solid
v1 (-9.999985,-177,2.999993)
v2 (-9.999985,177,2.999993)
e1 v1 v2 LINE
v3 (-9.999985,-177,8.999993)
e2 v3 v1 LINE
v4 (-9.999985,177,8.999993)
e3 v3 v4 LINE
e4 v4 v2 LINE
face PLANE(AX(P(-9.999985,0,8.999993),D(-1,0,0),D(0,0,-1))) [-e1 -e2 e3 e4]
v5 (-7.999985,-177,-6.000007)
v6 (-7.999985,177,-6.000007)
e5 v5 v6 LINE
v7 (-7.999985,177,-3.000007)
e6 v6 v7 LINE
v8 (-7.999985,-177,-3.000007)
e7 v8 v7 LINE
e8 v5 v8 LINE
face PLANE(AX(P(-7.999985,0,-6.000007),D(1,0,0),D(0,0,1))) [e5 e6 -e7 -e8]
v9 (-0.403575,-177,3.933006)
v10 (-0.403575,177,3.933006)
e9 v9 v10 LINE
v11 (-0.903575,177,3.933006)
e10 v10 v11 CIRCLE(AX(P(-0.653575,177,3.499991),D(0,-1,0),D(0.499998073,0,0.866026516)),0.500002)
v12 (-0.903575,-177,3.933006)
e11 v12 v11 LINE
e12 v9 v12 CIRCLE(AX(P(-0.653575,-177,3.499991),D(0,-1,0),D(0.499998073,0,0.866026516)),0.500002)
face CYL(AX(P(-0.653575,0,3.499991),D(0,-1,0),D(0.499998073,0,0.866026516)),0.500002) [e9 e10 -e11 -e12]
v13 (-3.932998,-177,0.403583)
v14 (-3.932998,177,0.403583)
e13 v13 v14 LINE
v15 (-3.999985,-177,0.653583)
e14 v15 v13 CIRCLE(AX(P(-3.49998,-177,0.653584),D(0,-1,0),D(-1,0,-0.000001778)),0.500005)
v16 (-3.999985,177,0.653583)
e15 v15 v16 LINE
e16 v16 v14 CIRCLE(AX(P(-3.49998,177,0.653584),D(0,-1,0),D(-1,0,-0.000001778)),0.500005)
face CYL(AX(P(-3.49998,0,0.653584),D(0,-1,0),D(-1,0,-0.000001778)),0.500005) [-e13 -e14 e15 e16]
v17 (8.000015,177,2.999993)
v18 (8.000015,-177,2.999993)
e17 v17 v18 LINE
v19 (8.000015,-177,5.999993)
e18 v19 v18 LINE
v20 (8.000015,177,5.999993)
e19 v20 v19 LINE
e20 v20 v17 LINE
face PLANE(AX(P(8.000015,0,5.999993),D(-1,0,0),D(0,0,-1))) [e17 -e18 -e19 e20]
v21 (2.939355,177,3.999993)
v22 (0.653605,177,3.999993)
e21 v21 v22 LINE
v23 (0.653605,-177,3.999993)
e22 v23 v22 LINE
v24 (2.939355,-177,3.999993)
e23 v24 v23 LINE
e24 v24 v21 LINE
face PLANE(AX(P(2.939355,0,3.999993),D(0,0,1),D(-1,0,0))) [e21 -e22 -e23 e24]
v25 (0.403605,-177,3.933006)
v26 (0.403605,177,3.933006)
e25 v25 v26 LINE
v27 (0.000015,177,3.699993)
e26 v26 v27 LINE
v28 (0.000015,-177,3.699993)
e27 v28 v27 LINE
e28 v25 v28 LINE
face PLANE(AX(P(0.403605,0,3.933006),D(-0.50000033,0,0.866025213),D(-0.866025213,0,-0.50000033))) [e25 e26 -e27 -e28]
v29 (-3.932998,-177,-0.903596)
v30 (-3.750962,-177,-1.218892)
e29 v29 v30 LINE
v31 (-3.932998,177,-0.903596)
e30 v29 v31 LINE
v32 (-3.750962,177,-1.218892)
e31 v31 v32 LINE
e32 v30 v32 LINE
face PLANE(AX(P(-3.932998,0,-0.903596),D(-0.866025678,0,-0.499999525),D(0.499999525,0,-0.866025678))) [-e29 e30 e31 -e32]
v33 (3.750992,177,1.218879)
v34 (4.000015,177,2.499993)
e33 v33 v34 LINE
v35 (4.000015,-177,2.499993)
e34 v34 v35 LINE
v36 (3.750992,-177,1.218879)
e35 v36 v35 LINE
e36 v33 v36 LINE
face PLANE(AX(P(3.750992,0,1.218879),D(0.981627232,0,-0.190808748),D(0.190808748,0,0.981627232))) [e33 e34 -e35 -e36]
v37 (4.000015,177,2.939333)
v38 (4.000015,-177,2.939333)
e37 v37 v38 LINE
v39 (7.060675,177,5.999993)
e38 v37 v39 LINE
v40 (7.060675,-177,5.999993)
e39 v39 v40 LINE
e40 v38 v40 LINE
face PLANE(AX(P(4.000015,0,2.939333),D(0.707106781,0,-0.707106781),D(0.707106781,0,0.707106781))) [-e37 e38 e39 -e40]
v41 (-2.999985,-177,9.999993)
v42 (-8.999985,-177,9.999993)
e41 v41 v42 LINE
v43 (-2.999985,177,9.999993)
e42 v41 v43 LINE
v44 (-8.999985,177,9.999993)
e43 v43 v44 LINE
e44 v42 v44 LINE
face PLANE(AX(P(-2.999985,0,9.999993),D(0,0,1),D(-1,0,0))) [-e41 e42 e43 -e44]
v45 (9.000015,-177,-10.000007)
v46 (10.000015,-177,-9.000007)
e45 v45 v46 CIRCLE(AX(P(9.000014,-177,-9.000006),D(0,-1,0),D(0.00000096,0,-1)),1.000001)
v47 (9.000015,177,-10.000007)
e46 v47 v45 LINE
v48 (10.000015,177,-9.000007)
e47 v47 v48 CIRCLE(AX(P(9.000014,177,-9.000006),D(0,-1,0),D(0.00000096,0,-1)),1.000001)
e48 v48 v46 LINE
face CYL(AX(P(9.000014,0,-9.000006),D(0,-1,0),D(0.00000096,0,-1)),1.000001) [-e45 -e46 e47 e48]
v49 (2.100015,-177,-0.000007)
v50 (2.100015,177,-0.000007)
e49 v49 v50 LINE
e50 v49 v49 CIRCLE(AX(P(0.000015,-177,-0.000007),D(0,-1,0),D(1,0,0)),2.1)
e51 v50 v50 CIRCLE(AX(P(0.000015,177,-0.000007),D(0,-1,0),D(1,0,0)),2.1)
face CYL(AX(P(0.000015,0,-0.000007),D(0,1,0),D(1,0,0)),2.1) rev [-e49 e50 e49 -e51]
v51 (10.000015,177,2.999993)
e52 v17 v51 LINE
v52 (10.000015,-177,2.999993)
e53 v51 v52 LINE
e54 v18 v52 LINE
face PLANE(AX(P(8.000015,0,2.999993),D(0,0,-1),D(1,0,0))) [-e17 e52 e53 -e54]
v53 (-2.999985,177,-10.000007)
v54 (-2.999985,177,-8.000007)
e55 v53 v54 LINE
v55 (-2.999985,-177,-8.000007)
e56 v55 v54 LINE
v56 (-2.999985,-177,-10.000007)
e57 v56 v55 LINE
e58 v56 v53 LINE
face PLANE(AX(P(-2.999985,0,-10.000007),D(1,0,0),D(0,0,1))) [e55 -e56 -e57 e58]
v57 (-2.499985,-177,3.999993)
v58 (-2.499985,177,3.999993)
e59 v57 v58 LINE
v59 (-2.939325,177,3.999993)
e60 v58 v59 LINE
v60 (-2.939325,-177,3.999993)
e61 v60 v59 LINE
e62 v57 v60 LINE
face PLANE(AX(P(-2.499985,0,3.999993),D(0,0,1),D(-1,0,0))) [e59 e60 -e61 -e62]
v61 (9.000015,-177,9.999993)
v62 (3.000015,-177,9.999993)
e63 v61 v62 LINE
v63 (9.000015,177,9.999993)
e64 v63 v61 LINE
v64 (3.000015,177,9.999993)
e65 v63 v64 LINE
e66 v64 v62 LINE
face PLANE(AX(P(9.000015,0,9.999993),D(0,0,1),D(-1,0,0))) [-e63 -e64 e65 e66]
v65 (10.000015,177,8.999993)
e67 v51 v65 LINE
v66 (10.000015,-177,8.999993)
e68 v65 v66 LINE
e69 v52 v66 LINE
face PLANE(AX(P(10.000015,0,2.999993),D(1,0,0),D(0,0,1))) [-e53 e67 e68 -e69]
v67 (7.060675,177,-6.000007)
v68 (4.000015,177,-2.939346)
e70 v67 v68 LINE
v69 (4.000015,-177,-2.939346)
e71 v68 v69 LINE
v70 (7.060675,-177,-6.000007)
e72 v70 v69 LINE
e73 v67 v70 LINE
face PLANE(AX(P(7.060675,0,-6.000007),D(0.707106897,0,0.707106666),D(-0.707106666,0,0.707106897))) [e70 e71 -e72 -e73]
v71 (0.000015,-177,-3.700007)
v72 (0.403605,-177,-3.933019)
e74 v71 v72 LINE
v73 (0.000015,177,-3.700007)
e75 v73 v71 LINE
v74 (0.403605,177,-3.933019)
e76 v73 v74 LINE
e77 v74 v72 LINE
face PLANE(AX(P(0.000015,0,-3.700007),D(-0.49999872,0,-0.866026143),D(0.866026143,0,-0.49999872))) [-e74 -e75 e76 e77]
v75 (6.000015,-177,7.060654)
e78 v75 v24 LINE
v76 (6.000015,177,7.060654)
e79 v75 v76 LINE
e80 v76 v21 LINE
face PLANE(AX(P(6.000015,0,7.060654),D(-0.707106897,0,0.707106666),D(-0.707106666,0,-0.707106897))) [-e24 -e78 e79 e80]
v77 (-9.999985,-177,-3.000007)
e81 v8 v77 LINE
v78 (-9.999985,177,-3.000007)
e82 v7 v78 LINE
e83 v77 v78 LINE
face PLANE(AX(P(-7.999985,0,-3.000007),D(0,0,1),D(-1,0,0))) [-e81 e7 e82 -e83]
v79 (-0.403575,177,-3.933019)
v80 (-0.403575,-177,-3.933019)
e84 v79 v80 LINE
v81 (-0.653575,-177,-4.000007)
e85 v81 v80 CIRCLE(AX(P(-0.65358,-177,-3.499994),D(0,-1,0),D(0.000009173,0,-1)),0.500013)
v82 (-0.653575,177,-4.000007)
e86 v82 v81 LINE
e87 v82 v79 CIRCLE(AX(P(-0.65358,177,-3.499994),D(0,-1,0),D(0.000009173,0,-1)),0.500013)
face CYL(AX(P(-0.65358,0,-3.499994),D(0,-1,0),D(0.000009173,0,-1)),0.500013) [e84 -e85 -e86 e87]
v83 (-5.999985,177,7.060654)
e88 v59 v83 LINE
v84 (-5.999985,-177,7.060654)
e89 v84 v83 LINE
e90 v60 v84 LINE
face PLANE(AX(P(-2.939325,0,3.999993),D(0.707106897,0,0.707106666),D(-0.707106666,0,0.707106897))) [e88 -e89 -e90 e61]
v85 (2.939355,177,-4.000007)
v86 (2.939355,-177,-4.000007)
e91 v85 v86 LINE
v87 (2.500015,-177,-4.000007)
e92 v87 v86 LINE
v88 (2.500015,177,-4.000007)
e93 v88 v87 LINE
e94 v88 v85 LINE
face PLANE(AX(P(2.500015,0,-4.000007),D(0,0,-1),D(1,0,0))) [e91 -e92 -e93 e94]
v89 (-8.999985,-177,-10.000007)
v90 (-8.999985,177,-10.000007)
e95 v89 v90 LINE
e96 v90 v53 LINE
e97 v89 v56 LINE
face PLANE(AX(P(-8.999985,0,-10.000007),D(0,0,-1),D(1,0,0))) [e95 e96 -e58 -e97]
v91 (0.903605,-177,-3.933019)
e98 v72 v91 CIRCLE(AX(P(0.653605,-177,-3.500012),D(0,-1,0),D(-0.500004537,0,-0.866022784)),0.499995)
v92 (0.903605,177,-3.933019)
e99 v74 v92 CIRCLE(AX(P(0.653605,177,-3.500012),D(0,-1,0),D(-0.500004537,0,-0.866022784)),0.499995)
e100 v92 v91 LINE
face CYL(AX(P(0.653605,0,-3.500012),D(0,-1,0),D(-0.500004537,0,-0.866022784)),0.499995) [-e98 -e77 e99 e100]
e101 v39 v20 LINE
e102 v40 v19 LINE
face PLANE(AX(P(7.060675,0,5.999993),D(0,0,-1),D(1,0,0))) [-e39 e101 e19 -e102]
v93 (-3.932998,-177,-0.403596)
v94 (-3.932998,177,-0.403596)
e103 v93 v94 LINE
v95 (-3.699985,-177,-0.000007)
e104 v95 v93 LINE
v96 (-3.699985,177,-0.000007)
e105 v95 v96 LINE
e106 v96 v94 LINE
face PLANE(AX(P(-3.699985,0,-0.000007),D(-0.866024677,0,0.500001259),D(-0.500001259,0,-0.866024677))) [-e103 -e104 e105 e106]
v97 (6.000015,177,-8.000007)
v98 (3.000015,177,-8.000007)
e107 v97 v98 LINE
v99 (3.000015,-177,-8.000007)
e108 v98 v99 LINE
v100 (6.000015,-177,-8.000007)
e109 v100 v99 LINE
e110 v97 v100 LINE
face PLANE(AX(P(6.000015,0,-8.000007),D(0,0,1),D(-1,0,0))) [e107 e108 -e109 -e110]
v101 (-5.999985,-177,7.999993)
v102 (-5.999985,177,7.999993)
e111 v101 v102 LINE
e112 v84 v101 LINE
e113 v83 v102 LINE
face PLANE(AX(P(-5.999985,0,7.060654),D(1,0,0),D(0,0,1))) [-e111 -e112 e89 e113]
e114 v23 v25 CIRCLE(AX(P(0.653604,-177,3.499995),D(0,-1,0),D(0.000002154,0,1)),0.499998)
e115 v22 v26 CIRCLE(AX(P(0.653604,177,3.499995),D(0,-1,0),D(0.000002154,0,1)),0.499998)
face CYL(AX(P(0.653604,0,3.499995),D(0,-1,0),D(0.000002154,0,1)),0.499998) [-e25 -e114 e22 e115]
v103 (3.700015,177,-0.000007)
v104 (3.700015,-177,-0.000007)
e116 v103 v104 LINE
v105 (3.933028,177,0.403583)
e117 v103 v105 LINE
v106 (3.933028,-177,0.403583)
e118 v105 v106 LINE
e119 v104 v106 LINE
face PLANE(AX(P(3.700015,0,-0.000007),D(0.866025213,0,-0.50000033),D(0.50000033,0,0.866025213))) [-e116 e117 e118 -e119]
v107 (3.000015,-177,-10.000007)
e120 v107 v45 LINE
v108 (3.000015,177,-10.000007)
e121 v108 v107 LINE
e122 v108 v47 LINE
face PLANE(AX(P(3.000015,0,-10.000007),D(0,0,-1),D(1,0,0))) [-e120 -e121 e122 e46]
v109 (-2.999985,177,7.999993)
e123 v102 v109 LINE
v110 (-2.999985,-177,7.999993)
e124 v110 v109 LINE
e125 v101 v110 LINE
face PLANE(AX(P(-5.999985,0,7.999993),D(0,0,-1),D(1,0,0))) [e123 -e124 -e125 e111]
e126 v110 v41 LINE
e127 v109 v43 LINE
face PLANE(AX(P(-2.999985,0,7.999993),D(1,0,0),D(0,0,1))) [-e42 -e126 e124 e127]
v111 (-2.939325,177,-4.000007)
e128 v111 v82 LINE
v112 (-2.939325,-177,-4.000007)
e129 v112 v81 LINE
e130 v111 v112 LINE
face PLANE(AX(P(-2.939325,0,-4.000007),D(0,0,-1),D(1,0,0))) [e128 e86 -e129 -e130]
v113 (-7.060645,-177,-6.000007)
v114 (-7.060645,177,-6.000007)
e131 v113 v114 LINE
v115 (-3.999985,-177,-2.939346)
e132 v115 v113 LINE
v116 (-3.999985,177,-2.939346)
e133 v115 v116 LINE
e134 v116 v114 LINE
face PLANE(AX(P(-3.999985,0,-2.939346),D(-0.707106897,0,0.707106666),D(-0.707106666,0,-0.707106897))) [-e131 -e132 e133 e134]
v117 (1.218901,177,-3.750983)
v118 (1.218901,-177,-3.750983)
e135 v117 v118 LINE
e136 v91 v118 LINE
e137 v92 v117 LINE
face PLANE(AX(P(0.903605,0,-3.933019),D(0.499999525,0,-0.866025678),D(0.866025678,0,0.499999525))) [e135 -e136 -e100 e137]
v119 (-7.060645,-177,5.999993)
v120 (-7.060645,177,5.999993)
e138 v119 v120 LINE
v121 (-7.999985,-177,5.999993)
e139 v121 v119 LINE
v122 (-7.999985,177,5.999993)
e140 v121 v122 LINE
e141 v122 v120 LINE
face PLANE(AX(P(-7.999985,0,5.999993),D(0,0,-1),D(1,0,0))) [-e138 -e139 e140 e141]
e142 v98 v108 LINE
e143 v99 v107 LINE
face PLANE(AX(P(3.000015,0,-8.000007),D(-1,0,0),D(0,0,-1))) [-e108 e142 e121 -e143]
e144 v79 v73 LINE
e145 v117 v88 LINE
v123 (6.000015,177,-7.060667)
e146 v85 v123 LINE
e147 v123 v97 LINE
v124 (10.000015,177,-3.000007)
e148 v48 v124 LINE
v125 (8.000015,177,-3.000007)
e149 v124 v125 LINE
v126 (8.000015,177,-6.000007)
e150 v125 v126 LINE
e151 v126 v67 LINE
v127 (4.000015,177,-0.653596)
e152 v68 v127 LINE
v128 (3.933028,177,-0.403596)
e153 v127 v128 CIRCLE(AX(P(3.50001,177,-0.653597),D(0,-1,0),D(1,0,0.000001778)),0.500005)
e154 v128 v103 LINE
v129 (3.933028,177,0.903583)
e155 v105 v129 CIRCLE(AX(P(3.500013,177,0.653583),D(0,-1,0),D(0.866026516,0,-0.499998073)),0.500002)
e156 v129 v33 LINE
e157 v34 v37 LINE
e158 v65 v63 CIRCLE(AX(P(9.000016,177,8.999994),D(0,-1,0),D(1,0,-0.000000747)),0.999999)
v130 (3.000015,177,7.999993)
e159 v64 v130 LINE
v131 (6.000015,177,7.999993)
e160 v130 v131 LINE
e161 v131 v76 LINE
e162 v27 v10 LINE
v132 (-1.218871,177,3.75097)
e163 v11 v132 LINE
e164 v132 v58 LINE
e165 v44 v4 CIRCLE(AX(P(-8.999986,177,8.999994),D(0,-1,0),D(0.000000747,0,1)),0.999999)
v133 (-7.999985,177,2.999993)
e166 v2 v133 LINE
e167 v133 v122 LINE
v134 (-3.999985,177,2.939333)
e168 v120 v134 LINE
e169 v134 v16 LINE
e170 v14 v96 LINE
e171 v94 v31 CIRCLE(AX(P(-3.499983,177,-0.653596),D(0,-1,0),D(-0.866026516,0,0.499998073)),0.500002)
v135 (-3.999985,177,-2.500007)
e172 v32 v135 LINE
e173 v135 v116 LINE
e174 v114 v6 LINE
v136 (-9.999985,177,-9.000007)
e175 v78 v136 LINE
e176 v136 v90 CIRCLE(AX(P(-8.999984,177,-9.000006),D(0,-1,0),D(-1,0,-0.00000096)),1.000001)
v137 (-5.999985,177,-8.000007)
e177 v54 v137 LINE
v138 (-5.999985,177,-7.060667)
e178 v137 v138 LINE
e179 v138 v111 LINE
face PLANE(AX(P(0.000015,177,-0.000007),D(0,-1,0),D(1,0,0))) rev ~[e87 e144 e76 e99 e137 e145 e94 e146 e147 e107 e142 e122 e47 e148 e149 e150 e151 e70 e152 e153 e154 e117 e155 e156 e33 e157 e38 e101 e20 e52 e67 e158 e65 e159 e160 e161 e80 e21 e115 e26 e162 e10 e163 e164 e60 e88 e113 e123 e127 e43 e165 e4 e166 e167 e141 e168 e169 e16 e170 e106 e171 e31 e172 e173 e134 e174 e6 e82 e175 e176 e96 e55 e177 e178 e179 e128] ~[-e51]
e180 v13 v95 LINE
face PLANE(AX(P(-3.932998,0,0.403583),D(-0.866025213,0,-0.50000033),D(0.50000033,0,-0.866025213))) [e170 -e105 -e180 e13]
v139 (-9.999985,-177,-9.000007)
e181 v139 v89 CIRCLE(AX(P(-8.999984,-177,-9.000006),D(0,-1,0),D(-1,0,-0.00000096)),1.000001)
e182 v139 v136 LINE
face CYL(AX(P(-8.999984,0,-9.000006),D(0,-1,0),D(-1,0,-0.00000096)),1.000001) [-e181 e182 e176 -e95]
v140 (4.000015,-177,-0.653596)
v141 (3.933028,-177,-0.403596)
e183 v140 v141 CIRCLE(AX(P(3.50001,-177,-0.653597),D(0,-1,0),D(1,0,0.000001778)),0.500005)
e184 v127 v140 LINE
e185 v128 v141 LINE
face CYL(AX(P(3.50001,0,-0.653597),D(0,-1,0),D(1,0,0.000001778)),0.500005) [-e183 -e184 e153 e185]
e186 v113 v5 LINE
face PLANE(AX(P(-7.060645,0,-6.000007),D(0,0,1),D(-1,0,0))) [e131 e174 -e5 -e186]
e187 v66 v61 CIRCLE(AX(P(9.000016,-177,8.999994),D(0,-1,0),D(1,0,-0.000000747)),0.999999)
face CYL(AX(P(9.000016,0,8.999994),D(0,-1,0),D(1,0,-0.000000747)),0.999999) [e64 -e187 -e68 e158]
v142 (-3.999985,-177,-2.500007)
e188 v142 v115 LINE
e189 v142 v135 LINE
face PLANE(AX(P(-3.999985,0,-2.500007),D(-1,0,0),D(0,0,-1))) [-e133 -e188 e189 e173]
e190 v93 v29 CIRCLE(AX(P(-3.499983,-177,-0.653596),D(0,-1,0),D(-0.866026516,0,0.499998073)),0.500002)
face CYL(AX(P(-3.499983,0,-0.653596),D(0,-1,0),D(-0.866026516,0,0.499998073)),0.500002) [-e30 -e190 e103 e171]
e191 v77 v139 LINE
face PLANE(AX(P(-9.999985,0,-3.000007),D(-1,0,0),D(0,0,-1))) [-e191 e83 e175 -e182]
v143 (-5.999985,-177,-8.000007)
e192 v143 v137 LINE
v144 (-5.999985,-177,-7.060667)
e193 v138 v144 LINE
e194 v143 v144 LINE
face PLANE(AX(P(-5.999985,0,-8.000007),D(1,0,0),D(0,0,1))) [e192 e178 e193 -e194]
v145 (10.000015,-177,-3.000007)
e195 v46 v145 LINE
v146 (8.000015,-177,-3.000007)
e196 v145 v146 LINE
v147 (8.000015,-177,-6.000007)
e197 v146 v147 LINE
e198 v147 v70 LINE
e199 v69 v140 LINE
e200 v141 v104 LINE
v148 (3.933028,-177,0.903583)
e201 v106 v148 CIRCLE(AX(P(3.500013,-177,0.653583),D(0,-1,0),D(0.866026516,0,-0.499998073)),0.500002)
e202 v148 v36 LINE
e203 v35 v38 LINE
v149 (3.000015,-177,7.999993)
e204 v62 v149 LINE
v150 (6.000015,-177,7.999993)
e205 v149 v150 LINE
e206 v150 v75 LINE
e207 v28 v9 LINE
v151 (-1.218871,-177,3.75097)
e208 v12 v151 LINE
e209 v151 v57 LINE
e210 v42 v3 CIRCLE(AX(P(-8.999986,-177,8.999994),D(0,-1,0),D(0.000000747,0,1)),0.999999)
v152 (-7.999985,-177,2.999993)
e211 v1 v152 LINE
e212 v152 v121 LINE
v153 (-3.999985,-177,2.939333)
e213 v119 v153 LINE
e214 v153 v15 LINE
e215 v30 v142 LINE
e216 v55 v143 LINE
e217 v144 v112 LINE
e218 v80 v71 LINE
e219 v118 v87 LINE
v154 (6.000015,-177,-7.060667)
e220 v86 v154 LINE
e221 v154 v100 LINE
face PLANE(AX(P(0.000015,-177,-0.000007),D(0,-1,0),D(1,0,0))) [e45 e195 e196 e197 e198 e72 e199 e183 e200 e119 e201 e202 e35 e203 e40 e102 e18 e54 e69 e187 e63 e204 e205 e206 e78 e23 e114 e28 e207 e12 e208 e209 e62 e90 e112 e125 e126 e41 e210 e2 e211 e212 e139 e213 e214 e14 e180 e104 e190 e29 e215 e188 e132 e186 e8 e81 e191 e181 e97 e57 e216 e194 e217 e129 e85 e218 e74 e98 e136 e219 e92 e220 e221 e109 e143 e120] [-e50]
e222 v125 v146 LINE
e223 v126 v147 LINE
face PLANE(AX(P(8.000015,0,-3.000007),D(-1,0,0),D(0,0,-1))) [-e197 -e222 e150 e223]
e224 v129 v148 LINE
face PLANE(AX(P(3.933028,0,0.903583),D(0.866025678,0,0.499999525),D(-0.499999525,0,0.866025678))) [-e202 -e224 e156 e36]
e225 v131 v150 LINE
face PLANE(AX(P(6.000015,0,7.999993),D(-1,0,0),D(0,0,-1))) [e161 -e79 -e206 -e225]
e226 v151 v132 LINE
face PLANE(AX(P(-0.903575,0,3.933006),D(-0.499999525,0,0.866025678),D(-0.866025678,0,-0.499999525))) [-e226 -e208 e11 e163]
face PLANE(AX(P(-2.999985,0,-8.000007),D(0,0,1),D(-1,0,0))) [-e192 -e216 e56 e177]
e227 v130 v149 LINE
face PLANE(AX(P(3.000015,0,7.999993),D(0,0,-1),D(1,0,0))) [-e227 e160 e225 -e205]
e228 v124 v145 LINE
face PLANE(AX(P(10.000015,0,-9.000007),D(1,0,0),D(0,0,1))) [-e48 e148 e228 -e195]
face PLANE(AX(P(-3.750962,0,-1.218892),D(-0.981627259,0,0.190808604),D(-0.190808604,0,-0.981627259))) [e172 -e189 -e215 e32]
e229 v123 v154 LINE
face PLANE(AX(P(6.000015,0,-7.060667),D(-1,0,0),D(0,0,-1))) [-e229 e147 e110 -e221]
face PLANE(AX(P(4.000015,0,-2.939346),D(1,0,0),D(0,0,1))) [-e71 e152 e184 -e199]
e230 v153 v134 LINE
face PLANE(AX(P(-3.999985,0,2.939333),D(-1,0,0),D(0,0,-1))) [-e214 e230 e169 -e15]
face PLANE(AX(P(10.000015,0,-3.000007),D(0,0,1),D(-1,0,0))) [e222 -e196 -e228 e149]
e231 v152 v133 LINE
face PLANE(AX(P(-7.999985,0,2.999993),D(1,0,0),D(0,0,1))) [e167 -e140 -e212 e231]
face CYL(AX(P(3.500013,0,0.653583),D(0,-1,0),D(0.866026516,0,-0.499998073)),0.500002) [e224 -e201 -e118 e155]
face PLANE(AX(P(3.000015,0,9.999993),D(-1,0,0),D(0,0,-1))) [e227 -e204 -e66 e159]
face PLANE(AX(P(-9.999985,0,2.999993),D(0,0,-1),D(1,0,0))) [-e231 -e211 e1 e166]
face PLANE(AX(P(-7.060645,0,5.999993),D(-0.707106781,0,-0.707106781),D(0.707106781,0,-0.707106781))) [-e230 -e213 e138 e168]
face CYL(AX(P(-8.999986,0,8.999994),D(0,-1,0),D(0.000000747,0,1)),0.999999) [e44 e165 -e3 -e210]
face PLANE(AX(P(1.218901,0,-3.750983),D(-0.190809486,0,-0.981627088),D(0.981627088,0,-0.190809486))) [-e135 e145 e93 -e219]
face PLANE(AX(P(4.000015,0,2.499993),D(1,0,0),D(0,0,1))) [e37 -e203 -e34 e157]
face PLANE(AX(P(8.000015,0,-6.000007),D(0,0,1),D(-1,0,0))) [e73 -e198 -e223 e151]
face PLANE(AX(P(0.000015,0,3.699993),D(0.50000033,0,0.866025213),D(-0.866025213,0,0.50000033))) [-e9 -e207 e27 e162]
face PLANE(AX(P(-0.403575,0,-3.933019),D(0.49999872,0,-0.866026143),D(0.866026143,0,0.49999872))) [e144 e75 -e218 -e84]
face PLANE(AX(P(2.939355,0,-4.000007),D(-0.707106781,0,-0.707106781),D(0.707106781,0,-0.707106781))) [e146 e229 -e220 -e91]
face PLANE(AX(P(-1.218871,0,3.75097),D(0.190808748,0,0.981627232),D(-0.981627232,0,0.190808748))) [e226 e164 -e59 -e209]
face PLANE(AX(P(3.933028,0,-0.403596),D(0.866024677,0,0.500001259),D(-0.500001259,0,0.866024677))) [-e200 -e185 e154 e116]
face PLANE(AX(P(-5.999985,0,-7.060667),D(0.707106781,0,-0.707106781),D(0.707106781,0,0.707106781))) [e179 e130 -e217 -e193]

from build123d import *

# Parameters (mm, degrees)
F0_R     = 2.1
F1_DEPTH = 177


with BuildPart() as f1:
    # F0 (on Front) → F1 (new body, symmetric)
    with BuildSketch(Plane.XZ):
        with BuildLine():
            Line((-5.999985, -8.000007), (-5.999985, -7.060667))
            Line((-5.999985, -7.060667), (-2.939325, -4.000007))
            Line((-2.939325, -4.000007), (-0.653575, -4.000007))
            ThreePointArc((-0.653575, -4.000007), (-0.524165, -3.982969), (-0.403575, -3.933019))
            Line((-0.403575, -3.933019), (1.5e-05, -3.700007))
            Line((1.5e-05, -3.700007), (0.403605, -3.933019))
            ThreePointArc((0.403605, -3.933019), (0.653605, -4.000007), (0.903605, -3.933019))
            Line((0.903605, -3.933019), (1.218901, -3.750983))
            Line((1.218901, -3.750983), (2.500015, -4.000007))
            Line((2.500015, -4.000007), (2.939355, -4.000007))
            Line((2.939355, -4.000007), (6.000015, -7.060667))
            Line((6.000015, -7.060667), (6.000015, -8.000007))
            Line((6.000015, -8.000007), (3.000015, -8.000007))
            Line((3.000015, -8.000007), (3.000015, -10.000007))
            Line((3.000015, -10.000007), (9.000015, -10.000007))
            ThreePointArc((9.000015, -10.000007), (9.707122, -9.707113), (10.000015, -9.000007))
            Line((10.000015, -9.000007), (10.000015, -3.000007))
            Line((10.000015, -3.000007), (8.000015, -3.000007))
            Line((8.000015, -3.000007), (8.000015, -6.000007))
            Line((8.000015, -6.000007), (7.060675, -6.000007))
            Line((7.060675, -6.000007), (4.000015, -2.939346))
            Line((4.000015, -2.939346), (4.000015, -0.653596))
            ThreePointArc((4.000015, -0.653596), (3.982978, -0.524187), (3.933028, -0.403596))
            Line((3.933028, -0.403596), (3.700015, -7e-06))
            Line((3.700015, -7e-06), (3.933028, 0.403583))
            ThreePointArc((3.933028, 0.403583), (4.000015, 0.653583), (3.933028, 0.903583))
            Line((3.933028, 0.903583), (3.750992, 1.218879))
            Line((3.750992, 1.218879), (4.000015, 2.499993))
            Line((4.000015, 2.499993), (4.000015, 2.939333))
            Line((4.000015, 2.939333), (7.060675, 5.999993))
            Line((7.060675, 5.999993), (8.000015, 5.999993))
            Line((8.000015, 5.999993), (8.000015, 2.999993))
            Line((8.000015, 2.999993), (10.000015, 2.999993))
            Line((10.000015, 2.999993), (10.000015, 8.999993))
            ThreePointArc((10.000015, 8.999993), (9.707122, 9.7071), (9.000015, 9.999993))
            Line((9.000015, 9.999993), (3.000015, 9.999993))
            Line((3.000015, 9.999993), (3.000015, 7.999993))
            Line((3.000015, 7.999993), (6.000015, 7.999993))
            Line((6.000015, 7.999993), (6.000015, 7.060654))
            Line((6.000015, 7.060654), (2.939355, 3.999993))
            Line((2.939355, 3.999993), (0.653605, 3.999993))
            ThreePointArc((0.653605, 3.999993), (0.524195, 3.982956), (0.403605, 3.933006))
            Line((0.403605, 3.933006), (1.5e-05, 3.699993))
            Line((1.5e-05, 3.699993), (-0.403575, 3.933006))
            ThreePointArc((-0.403575, 3.933006), (-0.653575, 3.999993), (-0.903575, 3.933006))
            Line((-0.903575, 3.933006), (-1.218871, 3.75097))
            Line((-1.218871, 3.75097), (-2.499985, 3.999993))
            Line((-2.499985, 3.999993), (-2.939325, 3.999993))
            Line((-2.939325, 3.999993), (-5.999985, 7.060654))
            Line((-5.999985, 7.060654), (-5.999985, 7.999993))
            Line((-5.999985, 7.999993), (-2.999985, 7.999993))
            Line((-2.999985, 7.999993), (-2.999985, 9.999993))
            Line((-2.999985, 9.999993), (-8.999985, 9.999993))
            ThreePointArc((-8.999985, 9.999993), (-9.707092, 9.7071), (-9.999985, 8.999993))
            Line((-9.999985, 8.999993), (-9.999985, 2.999993))
            Line((-9.999985, 2.999993), (-7.999985, 2.999993))
            Line((-7.999985, 2.999993), (-7.999985, 5.999993))
            Line((-7.999985, 5.999993), (-7.060645, 5.999993))
            Line((-7.060645, 5.999993), (-3.999985, 2.939333))
            Line((-3.999985, 2.939333), (-3.999985, 0.653583))
            ThreePointArc((-3.999985, 0.653583), (-3.982948, 0.524174), (-3.932998, 0.403583))
            Line((-3.932998, 0.403583), (-3.699985, -7e-06))
            Line((-3.699985, -7e-06), (-3.932998, -0.403596))
            ThreePointArc((-3.932998, -0.403596), (-3.999985, -0.653596), (-3.932998, -0.903596))
            Line((-3.932998, -0.903596), (-3.750962, -1.218892))
            Line((-3.750962, -1.218892), (-3.999985, -2.500007))
            Line((-3.999985, -2.500007), (-3.999985, -2.939346))
            Line((-3.999985, -2.939346), (-7.060645, -6.000007))
            Line((-7.060645, -6.000007), (-7.999985, -6.000007))
            Line((-7.999985, -6.000007), (-7.999985, -3.000007))
            Line((-7.999985, -3.000007), (-9.999985, -3.000007))
            Line((-9.999985, -3.000007), (-9.999985, -9.000007))
            ThreePointArc((-9.999985, -9.000007), (-9.707092, -9.707113), (-8.999985, -10.000007))
            Line((-8.999985, -10.000007), (-2.999985, -10.000007))
            Line((-2.999985, -10.000007), (-2.999985, -8.000007))
            Line((-2.999985, -8.000007), (-5.999985, -8.000007))
        make_face()
        with Locations((1.5e-05, -7e-06)):
            Circle(F0_R, mode=Mode.SUBTRACT)
    extrude(amount=F1_DEPTH, both=True)


solid = f1.part
